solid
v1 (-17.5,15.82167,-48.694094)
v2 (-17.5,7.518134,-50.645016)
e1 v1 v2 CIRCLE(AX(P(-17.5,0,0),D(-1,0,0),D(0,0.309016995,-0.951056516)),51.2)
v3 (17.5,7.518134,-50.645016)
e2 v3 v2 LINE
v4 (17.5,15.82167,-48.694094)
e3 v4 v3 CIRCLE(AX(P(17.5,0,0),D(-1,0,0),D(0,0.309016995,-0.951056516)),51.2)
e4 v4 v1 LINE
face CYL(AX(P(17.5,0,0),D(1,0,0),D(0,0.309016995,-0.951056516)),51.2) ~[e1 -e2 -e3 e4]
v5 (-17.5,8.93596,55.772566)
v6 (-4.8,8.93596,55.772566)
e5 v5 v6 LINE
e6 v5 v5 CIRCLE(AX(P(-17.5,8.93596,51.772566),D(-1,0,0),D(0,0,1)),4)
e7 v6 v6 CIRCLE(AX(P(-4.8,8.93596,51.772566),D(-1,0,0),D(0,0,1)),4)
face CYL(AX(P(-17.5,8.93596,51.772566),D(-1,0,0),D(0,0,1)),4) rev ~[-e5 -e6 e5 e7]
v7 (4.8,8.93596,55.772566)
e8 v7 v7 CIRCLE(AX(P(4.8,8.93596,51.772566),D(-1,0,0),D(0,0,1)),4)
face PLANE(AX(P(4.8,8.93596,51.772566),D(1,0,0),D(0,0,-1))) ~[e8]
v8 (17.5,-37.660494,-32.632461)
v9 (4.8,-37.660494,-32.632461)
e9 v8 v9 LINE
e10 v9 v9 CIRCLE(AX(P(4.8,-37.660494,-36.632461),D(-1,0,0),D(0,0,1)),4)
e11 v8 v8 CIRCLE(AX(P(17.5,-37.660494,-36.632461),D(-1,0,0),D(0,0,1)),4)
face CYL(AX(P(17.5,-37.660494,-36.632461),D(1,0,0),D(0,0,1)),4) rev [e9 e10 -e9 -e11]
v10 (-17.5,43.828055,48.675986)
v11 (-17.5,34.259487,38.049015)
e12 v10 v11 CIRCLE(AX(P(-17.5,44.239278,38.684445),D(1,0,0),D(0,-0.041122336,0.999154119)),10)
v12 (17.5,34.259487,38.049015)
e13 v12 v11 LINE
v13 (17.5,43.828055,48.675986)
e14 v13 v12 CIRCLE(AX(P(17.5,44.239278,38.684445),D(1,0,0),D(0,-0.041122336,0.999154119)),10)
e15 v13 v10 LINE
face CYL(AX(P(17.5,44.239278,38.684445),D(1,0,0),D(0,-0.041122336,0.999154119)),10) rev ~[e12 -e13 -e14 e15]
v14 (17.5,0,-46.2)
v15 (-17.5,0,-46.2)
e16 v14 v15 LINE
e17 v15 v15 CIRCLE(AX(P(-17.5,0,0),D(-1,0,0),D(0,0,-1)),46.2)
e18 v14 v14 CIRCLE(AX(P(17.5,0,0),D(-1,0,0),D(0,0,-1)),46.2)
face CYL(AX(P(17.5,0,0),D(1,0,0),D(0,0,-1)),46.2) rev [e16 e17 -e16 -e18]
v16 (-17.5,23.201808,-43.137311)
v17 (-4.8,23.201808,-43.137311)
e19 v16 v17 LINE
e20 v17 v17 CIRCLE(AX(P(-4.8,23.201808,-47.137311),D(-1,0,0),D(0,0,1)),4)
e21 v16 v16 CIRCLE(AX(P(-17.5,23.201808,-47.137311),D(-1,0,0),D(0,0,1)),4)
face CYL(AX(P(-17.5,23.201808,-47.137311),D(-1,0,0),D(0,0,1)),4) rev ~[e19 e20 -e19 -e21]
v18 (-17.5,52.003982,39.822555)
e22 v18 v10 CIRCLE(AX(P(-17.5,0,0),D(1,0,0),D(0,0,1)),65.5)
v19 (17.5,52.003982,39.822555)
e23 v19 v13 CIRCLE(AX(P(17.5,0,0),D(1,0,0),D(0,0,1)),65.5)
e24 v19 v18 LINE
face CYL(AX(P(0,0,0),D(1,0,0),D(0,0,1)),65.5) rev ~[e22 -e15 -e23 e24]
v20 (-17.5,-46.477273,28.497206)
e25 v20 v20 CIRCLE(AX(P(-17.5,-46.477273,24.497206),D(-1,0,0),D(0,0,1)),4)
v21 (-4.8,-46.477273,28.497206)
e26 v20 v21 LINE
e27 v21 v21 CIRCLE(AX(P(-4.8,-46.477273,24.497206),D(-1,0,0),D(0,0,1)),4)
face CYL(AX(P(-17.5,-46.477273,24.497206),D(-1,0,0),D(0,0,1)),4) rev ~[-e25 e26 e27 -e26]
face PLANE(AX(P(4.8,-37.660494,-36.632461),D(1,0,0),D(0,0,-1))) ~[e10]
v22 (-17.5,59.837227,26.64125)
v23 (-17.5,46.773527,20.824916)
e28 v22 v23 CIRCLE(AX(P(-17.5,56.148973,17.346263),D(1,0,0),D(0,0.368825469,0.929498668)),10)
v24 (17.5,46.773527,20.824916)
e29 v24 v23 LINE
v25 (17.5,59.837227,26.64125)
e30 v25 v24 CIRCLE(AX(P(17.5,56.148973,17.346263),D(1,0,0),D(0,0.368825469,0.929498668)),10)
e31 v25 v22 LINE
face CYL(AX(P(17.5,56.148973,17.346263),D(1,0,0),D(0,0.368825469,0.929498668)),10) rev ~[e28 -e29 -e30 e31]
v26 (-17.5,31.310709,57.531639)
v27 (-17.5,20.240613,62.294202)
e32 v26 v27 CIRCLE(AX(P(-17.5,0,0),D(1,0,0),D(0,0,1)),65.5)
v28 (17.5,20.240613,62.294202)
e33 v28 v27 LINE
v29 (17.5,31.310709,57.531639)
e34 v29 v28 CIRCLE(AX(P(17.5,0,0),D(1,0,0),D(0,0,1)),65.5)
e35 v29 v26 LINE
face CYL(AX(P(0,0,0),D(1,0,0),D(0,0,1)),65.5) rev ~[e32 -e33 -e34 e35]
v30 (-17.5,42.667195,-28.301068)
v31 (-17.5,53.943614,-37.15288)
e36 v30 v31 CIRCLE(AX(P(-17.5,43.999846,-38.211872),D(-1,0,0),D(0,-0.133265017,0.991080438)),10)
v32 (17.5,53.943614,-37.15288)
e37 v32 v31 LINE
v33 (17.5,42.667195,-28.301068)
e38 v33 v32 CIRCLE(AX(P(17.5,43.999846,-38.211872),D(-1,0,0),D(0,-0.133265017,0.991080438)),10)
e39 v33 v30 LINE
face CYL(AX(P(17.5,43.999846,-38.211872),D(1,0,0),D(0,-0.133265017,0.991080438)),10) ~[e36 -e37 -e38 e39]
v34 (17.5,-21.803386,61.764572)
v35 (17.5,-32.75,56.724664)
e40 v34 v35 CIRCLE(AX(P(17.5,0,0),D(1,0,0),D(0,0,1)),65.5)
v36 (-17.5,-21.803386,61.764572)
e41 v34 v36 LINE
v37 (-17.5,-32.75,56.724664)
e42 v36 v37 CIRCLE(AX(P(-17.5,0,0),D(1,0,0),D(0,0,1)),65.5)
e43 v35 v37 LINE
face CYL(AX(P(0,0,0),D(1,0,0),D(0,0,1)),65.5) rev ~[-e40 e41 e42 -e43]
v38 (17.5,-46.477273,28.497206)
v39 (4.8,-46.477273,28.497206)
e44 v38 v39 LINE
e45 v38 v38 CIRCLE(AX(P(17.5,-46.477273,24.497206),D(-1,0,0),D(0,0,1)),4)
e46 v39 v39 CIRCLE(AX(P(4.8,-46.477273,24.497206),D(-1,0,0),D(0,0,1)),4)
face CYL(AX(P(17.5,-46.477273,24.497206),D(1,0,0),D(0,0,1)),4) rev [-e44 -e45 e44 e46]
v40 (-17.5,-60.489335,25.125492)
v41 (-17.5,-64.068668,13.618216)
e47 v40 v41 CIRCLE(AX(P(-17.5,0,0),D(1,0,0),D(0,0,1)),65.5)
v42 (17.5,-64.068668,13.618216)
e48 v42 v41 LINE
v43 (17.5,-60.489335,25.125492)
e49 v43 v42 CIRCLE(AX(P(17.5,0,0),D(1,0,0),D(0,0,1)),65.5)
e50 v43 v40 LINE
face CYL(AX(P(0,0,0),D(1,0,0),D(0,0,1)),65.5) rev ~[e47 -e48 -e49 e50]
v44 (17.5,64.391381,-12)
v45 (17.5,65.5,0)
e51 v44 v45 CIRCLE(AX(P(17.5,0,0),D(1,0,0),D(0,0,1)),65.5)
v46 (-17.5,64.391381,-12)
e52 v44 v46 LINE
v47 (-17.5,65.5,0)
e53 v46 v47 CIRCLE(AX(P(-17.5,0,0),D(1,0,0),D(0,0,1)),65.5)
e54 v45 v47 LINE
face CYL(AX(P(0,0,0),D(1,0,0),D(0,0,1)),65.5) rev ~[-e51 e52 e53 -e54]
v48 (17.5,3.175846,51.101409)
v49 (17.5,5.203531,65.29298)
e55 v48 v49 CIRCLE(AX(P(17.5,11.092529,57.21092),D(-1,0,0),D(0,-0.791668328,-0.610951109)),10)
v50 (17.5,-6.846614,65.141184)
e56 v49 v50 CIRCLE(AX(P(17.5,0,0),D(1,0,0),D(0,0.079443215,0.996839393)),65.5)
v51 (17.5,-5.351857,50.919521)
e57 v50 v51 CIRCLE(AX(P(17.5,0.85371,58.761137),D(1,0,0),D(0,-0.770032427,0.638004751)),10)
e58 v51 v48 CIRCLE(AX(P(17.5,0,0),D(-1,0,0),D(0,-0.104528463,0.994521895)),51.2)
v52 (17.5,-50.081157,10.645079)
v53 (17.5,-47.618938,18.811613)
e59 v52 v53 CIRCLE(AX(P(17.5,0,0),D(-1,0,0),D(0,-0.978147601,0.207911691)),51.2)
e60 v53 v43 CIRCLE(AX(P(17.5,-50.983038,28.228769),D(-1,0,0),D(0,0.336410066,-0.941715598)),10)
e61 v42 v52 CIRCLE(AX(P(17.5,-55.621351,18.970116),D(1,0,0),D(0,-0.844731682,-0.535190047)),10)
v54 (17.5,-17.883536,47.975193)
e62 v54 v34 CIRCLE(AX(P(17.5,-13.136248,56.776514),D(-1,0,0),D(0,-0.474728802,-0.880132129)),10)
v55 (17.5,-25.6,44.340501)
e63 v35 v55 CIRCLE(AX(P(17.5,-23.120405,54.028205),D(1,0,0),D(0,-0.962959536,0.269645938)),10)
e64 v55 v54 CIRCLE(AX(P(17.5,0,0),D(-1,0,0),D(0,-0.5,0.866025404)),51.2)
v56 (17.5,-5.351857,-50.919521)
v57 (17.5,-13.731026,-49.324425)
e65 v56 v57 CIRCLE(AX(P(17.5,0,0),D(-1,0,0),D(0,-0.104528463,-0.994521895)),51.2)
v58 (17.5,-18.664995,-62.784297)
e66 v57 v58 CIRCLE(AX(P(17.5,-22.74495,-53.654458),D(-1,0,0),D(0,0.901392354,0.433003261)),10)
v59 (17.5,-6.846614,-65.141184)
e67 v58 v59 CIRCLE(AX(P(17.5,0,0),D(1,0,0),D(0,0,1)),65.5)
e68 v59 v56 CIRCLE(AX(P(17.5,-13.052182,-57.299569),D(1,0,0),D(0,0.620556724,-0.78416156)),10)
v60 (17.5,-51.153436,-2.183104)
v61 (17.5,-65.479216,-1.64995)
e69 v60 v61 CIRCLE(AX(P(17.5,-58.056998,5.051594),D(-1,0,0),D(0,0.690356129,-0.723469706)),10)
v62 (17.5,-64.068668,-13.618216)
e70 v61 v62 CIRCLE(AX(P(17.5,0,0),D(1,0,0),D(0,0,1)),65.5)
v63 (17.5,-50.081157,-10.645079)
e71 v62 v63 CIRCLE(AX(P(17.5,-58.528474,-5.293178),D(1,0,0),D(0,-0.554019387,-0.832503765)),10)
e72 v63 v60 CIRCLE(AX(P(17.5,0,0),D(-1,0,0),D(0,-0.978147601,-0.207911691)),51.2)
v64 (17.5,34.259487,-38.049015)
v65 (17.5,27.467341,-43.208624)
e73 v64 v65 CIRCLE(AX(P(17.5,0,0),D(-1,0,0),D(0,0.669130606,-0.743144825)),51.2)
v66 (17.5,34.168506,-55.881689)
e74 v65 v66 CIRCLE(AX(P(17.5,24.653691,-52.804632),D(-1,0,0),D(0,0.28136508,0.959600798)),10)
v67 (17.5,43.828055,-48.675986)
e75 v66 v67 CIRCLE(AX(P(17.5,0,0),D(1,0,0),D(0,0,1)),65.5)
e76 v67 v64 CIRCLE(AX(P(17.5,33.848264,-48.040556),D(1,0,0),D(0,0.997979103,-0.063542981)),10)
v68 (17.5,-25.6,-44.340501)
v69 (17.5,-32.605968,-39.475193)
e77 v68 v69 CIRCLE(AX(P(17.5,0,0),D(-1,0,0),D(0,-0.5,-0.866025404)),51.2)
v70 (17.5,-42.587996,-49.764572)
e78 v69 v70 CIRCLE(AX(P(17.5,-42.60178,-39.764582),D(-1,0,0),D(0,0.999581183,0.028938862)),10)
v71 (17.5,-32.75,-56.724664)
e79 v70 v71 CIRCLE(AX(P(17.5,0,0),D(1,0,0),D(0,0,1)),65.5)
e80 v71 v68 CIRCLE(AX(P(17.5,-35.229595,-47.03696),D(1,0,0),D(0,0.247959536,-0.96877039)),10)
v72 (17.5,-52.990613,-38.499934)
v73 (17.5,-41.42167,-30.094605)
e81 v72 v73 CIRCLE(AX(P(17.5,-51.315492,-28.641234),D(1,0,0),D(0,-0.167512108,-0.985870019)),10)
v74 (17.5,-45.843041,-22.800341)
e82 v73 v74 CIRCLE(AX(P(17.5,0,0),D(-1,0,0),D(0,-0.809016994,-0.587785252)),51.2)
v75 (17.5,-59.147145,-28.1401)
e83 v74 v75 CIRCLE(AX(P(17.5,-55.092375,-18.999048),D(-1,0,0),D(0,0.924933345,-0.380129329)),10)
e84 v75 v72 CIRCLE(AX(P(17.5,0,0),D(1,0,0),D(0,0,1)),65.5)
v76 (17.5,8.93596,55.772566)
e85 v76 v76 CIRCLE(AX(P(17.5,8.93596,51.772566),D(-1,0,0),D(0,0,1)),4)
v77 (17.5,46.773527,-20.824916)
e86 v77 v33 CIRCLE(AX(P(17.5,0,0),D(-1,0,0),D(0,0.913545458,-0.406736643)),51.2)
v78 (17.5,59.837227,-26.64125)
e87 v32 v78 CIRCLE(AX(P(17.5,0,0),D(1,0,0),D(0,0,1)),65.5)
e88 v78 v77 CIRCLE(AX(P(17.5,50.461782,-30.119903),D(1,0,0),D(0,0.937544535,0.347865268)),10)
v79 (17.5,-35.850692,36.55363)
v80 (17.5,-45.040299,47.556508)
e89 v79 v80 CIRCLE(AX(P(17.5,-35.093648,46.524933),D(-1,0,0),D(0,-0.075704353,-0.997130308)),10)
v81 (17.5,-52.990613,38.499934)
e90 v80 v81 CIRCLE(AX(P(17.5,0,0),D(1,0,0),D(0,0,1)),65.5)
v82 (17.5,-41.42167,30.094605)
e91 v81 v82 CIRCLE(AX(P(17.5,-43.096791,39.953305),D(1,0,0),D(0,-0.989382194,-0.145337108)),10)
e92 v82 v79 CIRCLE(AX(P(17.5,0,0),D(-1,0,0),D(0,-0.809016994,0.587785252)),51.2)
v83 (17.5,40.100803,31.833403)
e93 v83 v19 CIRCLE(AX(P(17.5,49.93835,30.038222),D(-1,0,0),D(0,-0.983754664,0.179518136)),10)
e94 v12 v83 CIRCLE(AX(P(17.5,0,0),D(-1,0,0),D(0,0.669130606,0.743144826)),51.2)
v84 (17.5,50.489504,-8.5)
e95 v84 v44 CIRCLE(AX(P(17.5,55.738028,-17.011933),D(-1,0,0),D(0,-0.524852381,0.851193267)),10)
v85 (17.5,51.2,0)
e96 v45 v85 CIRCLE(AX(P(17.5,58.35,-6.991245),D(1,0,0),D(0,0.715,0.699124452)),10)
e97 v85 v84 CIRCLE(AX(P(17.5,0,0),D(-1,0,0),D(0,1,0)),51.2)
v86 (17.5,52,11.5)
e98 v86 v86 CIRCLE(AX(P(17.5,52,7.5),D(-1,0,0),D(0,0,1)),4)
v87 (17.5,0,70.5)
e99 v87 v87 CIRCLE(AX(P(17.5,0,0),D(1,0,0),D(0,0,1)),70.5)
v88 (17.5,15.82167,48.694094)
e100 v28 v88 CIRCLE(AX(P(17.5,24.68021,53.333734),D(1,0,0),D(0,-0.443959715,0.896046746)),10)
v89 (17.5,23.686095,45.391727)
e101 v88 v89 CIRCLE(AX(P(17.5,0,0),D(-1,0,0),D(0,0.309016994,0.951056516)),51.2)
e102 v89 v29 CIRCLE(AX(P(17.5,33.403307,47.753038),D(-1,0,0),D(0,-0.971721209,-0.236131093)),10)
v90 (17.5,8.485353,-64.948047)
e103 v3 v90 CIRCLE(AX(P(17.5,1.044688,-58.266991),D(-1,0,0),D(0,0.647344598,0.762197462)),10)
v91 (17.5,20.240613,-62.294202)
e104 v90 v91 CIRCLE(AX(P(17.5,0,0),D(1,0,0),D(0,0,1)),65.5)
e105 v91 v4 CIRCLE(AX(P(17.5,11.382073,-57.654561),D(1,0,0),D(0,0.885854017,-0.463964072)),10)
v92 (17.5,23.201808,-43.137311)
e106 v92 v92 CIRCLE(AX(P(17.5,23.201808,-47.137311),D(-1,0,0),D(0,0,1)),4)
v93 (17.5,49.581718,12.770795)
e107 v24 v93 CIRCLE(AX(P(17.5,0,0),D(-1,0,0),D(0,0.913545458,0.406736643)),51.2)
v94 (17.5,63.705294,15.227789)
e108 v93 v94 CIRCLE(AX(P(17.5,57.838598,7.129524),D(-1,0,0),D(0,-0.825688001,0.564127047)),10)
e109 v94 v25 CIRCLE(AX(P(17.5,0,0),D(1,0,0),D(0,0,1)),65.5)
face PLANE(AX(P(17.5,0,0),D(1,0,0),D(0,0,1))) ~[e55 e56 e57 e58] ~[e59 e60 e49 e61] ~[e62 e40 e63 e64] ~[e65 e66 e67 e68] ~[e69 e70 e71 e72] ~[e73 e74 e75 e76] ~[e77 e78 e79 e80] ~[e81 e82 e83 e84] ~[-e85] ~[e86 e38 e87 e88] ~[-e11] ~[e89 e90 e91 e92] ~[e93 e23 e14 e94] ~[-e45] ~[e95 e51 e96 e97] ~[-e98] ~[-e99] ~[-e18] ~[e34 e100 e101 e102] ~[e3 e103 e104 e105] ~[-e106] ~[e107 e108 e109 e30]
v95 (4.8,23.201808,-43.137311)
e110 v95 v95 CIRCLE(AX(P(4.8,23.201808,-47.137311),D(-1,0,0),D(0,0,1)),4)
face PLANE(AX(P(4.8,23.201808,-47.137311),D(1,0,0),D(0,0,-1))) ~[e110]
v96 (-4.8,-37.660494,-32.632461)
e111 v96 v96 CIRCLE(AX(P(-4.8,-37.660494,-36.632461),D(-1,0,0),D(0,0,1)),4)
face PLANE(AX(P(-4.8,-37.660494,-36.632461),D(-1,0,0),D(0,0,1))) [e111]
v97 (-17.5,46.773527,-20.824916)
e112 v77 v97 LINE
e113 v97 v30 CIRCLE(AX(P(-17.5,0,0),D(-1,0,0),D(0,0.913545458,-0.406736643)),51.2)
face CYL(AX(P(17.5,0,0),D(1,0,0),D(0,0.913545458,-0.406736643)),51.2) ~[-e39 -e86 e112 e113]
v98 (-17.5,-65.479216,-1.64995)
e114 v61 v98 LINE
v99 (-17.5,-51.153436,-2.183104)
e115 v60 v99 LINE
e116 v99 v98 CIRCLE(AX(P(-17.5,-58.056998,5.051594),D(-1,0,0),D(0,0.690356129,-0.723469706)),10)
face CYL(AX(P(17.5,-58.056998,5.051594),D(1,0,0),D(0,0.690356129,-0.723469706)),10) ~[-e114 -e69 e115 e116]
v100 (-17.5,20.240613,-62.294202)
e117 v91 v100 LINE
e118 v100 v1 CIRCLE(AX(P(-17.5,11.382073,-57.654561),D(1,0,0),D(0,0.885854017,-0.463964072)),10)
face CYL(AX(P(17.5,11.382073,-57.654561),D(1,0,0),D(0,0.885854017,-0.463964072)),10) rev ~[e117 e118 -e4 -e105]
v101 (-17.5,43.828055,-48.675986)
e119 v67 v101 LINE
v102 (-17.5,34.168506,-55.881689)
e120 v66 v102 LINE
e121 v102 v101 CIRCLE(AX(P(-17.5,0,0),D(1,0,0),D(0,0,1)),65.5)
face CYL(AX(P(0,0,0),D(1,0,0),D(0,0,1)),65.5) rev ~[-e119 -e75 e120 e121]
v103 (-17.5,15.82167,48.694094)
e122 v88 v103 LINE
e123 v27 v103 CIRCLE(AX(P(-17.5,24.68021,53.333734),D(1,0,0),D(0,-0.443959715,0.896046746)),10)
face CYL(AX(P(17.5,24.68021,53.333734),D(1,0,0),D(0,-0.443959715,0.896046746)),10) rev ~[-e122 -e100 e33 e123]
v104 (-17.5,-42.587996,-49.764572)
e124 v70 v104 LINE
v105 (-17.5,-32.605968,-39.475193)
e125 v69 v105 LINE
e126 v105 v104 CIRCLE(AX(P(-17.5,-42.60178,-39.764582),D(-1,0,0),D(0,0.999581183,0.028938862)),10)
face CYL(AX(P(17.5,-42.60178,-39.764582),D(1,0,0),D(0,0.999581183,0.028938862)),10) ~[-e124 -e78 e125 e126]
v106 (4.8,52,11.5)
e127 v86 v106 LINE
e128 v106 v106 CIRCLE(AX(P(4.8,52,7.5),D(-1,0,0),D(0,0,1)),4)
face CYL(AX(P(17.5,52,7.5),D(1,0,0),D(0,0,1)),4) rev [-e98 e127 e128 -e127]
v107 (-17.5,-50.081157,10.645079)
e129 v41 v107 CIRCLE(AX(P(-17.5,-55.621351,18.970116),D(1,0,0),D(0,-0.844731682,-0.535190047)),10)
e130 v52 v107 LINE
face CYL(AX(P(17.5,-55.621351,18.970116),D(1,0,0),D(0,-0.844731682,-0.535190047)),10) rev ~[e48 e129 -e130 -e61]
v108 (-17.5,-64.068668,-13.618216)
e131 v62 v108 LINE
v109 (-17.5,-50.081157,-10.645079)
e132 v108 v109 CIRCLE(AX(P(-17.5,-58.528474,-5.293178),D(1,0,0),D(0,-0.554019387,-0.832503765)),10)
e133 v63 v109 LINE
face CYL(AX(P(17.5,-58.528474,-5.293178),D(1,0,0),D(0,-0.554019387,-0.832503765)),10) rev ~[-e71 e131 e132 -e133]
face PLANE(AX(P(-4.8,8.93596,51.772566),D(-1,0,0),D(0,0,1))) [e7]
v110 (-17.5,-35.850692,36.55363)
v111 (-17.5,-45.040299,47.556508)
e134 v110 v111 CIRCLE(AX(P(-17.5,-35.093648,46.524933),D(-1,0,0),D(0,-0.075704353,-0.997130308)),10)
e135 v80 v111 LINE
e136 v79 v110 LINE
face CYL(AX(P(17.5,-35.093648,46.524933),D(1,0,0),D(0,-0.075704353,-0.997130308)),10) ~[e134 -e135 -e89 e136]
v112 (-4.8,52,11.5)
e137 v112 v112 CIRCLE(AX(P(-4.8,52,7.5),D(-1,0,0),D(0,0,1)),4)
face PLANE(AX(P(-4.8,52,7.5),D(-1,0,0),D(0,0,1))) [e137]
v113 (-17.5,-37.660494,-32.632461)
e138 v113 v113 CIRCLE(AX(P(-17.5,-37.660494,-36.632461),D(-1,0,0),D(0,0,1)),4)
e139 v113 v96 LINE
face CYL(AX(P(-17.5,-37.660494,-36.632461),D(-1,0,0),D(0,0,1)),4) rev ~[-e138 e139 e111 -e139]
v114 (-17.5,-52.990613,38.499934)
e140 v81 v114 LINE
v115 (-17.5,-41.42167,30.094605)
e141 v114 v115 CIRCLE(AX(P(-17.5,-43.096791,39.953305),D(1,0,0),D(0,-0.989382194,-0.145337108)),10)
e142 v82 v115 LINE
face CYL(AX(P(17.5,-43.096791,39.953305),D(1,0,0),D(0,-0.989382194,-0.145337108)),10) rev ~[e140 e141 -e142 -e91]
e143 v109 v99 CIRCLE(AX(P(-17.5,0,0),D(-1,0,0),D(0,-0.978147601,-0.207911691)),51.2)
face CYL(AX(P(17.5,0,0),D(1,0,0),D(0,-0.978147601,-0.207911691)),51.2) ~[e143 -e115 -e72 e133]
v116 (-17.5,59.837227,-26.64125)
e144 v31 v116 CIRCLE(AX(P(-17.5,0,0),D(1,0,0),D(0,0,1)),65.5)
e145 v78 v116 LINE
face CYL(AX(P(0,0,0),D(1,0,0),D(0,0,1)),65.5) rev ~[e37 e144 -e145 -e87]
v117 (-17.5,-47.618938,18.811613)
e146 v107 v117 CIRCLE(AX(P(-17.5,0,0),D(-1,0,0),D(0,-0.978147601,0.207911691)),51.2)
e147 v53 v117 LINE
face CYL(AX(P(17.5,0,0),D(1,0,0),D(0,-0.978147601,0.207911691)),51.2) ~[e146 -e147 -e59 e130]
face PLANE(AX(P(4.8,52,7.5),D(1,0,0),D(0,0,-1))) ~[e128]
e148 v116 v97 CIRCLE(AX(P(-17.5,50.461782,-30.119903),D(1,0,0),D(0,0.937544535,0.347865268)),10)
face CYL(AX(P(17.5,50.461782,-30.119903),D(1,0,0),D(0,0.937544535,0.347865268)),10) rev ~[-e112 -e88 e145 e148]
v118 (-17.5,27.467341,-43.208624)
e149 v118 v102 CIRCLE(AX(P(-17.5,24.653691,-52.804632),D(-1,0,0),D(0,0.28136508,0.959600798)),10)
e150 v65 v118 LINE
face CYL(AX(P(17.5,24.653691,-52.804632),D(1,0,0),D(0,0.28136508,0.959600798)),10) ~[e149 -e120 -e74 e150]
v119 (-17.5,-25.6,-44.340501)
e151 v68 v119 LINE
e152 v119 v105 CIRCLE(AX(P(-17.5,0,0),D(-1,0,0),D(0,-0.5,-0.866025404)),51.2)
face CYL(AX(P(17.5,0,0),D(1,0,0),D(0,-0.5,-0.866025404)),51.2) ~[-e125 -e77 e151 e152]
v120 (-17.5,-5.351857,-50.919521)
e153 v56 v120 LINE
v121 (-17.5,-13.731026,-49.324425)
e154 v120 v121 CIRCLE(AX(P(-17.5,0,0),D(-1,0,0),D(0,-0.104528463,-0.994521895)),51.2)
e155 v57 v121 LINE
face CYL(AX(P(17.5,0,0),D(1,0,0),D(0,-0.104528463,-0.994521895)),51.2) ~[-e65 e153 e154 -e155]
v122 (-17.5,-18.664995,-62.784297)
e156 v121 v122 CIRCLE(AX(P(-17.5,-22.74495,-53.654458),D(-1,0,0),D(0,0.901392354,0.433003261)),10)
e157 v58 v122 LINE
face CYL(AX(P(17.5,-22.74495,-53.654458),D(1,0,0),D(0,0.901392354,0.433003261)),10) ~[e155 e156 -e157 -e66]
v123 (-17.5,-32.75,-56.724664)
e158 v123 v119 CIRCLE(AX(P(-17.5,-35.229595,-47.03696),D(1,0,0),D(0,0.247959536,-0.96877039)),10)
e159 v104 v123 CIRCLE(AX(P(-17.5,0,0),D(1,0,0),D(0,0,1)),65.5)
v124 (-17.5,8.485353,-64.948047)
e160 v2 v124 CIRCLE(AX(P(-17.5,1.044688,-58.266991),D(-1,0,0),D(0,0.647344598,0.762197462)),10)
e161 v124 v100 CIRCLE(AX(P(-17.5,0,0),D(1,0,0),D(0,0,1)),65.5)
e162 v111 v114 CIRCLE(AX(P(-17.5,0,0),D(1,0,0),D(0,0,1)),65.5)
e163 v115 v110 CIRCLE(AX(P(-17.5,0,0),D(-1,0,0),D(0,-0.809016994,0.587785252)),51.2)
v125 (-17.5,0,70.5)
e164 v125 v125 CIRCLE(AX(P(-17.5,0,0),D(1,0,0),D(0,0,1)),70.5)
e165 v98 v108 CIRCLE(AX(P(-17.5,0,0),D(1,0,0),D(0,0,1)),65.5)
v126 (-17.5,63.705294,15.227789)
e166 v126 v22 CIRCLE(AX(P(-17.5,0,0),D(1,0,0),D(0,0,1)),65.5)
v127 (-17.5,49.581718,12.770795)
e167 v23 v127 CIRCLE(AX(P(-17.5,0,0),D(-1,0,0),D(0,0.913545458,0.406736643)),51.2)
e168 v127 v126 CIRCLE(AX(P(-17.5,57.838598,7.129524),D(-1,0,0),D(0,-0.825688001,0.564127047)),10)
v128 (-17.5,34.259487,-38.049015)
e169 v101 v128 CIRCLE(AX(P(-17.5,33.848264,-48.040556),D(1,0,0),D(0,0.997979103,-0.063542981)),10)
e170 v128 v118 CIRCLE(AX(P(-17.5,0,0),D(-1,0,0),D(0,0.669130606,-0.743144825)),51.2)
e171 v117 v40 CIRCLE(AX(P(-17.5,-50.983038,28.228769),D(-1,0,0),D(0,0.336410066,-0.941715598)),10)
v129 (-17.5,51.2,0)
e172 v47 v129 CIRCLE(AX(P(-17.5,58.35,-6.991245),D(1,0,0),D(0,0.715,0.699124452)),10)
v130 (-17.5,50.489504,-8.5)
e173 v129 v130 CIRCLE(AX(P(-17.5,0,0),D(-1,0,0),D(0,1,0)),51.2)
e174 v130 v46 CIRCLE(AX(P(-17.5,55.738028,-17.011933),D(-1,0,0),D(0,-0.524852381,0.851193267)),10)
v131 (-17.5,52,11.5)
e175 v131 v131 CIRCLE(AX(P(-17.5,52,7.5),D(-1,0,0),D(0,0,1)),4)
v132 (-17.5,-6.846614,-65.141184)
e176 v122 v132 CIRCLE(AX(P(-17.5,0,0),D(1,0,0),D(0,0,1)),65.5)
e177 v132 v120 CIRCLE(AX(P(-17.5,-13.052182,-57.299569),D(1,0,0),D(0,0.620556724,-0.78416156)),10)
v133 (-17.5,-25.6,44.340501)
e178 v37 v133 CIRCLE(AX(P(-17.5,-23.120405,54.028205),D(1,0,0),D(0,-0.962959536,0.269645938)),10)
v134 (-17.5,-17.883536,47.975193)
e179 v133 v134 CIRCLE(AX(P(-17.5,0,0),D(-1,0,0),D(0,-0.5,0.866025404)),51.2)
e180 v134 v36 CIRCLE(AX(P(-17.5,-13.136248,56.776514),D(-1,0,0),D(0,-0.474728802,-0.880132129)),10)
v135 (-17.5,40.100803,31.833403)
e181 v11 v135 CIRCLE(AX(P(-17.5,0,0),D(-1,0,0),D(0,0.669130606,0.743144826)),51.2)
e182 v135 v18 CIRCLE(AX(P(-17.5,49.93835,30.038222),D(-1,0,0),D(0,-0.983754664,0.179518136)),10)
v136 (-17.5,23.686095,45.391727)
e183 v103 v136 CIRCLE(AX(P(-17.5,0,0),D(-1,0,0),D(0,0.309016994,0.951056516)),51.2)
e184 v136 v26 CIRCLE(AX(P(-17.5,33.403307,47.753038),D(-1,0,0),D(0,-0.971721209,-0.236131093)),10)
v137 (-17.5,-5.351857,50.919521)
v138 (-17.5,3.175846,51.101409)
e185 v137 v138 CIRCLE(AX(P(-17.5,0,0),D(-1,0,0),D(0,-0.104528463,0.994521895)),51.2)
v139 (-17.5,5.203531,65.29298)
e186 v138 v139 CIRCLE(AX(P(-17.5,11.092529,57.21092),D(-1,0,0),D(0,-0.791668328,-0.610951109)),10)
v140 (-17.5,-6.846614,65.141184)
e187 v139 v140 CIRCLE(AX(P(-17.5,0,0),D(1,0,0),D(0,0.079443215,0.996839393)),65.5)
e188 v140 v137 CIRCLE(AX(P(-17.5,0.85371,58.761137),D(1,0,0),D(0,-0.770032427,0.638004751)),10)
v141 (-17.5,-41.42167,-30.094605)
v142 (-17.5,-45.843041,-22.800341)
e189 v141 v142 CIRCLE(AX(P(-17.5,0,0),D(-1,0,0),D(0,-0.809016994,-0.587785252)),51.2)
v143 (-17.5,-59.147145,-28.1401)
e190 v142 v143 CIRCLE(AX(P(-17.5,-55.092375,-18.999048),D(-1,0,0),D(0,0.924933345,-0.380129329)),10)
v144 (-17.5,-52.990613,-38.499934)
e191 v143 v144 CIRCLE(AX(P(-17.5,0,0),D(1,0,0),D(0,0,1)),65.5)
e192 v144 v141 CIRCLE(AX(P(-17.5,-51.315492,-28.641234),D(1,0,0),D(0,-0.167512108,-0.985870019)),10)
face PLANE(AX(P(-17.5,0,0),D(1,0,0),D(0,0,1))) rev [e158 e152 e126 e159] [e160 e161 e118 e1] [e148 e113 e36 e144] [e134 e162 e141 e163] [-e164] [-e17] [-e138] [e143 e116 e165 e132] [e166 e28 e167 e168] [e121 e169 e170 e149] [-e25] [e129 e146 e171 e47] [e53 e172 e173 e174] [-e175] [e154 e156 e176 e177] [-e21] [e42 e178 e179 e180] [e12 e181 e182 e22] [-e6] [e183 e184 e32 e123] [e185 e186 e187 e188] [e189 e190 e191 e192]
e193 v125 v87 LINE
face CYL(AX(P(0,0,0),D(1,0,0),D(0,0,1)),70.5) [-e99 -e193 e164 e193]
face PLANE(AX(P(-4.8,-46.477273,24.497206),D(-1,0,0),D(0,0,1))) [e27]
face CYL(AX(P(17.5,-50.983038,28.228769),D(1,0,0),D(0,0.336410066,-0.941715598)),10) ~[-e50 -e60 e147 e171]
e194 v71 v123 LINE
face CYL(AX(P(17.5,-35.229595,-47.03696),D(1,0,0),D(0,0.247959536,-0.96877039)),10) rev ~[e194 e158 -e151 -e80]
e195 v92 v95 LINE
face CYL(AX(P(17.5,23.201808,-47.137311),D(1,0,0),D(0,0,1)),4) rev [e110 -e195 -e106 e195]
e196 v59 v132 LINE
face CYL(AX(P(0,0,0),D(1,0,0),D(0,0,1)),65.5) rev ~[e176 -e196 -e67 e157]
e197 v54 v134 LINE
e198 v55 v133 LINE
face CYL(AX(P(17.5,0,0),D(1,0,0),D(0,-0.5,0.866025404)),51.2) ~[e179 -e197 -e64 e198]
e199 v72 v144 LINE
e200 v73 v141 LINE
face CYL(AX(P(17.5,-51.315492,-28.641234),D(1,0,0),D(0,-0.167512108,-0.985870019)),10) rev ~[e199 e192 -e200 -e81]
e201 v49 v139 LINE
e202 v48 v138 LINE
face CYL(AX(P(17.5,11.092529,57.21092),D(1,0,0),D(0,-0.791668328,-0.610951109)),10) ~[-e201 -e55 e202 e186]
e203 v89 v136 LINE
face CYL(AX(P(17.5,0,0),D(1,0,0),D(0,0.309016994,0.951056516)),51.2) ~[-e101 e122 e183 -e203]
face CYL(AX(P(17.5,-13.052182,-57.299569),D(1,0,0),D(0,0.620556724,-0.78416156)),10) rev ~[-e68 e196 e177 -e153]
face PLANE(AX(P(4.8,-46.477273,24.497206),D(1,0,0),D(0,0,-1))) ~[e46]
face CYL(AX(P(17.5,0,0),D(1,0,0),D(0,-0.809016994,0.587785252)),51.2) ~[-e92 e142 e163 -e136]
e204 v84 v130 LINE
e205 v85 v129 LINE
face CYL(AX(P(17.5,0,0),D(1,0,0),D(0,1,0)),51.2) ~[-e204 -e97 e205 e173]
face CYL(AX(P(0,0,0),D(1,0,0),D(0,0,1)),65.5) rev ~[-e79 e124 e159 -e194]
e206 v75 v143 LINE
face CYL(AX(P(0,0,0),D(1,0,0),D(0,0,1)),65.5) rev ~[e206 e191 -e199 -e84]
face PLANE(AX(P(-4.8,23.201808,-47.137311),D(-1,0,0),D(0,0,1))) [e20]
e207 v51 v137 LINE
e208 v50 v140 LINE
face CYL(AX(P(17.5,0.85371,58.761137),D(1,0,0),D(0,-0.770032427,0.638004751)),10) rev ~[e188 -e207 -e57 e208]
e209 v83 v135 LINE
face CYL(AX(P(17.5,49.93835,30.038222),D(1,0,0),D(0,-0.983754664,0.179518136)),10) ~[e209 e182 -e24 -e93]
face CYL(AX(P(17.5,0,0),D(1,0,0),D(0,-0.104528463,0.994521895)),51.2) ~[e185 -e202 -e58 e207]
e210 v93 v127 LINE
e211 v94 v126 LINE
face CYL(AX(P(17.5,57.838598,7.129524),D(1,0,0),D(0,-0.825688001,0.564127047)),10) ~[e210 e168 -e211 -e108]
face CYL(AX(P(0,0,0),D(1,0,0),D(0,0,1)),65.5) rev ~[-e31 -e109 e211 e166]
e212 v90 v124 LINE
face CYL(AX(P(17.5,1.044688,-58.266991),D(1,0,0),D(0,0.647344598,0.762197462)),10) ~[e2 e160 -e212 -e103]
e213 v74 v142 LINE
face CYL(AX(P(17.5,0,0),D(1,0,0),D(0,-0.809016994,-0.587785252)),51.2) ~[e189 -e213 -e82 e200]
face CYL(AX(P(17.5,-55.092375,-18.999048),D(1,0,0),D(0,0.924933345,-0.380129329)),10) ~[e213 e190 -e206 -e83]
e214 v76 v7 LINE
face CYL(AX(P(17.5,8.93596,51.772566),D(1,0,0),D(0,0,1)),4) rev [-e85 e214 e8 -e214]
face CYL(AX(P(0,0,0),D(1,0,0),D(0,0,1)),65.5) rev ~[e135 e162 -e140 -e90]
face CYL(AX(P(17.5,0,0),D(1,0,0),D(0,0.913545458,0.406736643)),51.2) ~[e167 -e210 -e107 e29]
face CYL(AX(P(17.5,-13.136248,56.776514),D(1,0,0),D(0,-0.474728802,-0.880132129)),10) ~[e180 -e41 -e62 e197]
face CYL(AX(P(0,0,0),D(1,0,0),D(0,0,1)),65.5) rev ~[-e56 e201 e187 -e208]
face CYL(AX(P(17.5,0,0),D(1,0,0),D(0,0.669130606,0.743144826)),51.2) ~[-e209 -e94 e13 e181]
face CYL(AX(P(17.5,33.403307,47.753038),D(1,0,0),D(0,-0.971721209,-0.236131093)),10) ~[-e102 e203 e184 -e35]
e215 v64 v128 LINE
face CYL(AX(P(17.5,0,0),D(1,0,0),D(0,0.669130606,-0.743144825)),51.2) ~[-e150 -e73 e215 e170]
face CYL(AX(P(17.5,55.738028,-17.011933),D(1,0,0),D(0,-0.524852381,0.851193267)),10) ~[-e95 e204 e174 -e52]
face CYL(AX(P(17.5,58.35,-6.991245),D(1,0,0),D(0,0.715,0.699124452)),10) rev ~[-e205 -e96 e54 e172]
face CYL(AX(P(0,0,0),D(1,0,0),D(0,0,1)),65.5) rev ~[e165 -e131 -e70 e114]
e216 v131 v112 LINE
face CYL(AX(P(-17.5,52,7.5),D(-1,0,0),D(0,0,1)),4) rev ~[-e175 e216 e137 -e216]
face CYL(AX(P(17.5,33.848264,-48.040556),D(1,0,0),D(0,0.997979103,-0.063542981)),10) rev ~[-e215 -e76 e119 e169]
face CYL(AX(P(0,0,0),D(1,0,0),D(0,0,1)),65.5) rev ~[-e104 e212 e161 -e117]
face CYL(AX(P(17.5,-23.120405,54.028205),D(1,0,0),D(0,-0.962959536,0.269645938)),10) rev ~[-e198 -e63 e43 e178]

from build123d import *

# Parameters (mm, degrees)
SKETCH1_W             = 35
SKETCH1_H             = 5
SKETCH7_R             = 46.2
REINFORCEMENT_DEPTH   = 35
SKETCH8_R             = 4
INSERTS_HOLES_A_DEPTH = 12.7


with BuildPart() as part:
    # Sketch1 → Body (revolve)
    with BuildSketch(Plane(origin=(0, 0, 0), x_dir=(1, 0, 0), z_dir=(0, 1, 0)), mode=Mode.PRIVATE) as body_sk:
        with Locations((0, 68)):
            Rectangle(SKETCH1_W, SKETCH1_H)
    revolve(body_sk.sketch.rotate(Axis((-1000, 0, 0), (1, 0, 0)), 180), axis=Axis((-1000, 0, 0), (1, 0, 0)))

    # Sketch7 → Reinforcement (add)
    with BuildSketch(Plane.ZY.offset(-17.5)):
        with BuildLine():
            ThreePointArc((15.227788826, 63.705293716), (7.666591863, 65.049776089), (0, 65.5))
            ThreePointArc((0, 65.5), (3.008755476, 58.35), (0, 51.2))
            ThreePointArc((0, 51.2), (-4.264821355, 51.022066783), (-8.5, 50.48950386))
            ThreePointArc((-8.5, 50.48950386), (-7.314547286, 58.179485578), (-12, 64.391381411))
            ThreePointArc((-12, 64.391381411), (-19.454347387, 62.544211305), (-26.641250121, 59.837227476))
            ThreePointArc((-26.641250121, 59.837227476), (-20.984448226, 54.529148555), (-20.824916125, 46.773527431))
            ThreePointArc((-20.824916125, 46.773527431), (-24.648652343, 44.876318228), (-28.3010677, 42.667195444))
            ThreePointArc((-28.3010677, 42.667195444), (-30.345900107, 50.17451037), (-37.15287981, 53.943614282))
            ThreePointArc((-37.15287981, 53.943614282), (-43.211453237, 49.22418419), (-48.675986069, 43.828054717))
            ThreePointArc((-48.675986069, 43.828054717), (-41.349250191, 41.279711944), (-38.049015064, 34.259487046))
            ThreePointArc((-38.049015064, 34.259487046), (-40.770507414, 30.971046563), (-43.208623688, 27.467341316))
            ThreePointArc((-43.208623688, 27.467341316), (-48.130171117, 33.493906497), (-55.881689177, 34.168506182))
            ThreePointArc((-55.881689177, 34.168506182), (-59.496906258, 27.392848441), (-62.294201817, 20.240613132))
            ThreePointArc((-62.294201817, 20.240613132), (-54.564391152, 20.892638123), (-48.694093634, 15.821670112))
            ThreePointArc((-48.694093634, 15.821670112), (-49.842771366, 11.710599583), (-50.645016102, 7.518134342))
            ThreePointArc((-50.645016102, 7.518134342), (-57.592298291, 11.021901908), (-64.948046817, 8.485352952))
            ThreePointArc((-64.948046817, 8.485352952), (-65.494803675, 0.82504034), (-65.141184147, -6.846614344))
            ThreePointArc((-65.141184147, -6.846614344), (-58.344853181, -3.106962633), (-50.919521043, -5.351857319))
            ThreePointArc((-50.919521043, -5.351857319), (-50.29676734, -9.574716451), (-49.324425137, -13.73102636))
            ThreePointArc((-49.324425137, -13.73102636), (-57.096193882, -13.355889651), (-62.784297127, -18.664994891))
            ThreePointArc((-62.784297127, -18.664994891), (-60.168054535, -25.88542473), (-56.724663948, -32.75))
            ThreePointArc((-56.724663948, -32.75), (-52.036960049, -26.569341324), (-44.340500674, -25.6))
            ThreePointArc((-44.340500674, -25.6), (-42.05399531, -29.204477028), (-39.475192967, -32.605967862))
            ThreePointArc((-39.475192967, -32.605967862), (-46.727638847, -35.424326556), (-49.764572087, -42.587995551))
            ThreePointArc((-49.764572087, -42.587995551), (-44.437702156, -48.120064704), (-38.499934025, -52.990613132))
            ThreePointArc((-38.499934025, -52.990613132), (-36.731403783, -45.437639525), (-30.094604917, -41.421670112))
            ThreePointArc((-30.094604917, -41.421670112), (-26.539705442, -43.784518212), (-22.800341312, -45.843041305))
            ThreePointArc((-22.800341312, -45.843041305), (-28.279450549, -51.367575579), (-28.140100436, -59.14714488))
            ThreePointArc((-28.140100436, -59.14714488), (-21.023667371, -62.034308332), (-13.618215749, -64.068667848))
            ThreePointArc((-13.618215749, -64.068667848), (-15.074654109, -56.449357065), (-10.64507857, -50.081157158))
            ThreePointArc((-10.64507857, -50.081157158), (-6.436459398, -50.793818427), (-2.18310351, -51.153436435))
            ThreePointArc((-2.18310351, -51.153436435), (-4.94148834, -58.428904124), (-1.649949774, -65.479215525))
            ThreePointArc((-1.649949774, -65.479215525), (6.025550497, -65.222256487), (13.618215749, -64.068667848))
            ThreePointArc((13.618215749, -64.068667848), (9.18864021, -57.700467941), (10.64507857, -50.081157158))
            ThreePointArc((10.64507857, -50.081157158), (14.77970895, -49.020405989), (18.811612722, -47.618937691))
            ThreePointArc((18.811612722, -47.618937691), (19.250902095, -55.387344337), (25.125492192, -60.489334945))
            ThreePointArc((25.125492192, -60.489334945), (32.032895944, -57.132683969), (38.499934025, -52.990613132))
            ThreePointArc((38.499934025, -52.990613132), (31.86313516, -48.974643718), (30.094604917, -41.421670112))
            ThreePointArc((30.094604917, -41.421670112), (33.440331351, -38.770920019), (36.553630216, -35.850692016))
            ThreePointArc((36.553630216, -35.850692016), (40.114636669, -42.768809535), (47.556508301, -45.040298825))
            ThreePointArc((47.556508301, -45.040298825), (52.501462672, -39.164351358), (56.724663948, -32.75))
            ThreePointArc((56.724663948, -32.75), (49.028204573, -31.780658676), (44.340500674, -25.6))
            ThreePointArc((44.340500674, -25.6), (46.318816665, -21.817589755), (47.975192967, -17.883535998))
            ThreePointArc((47.975192967, -17.883535998), (54.042186133, -22.755159023), (61.764572087, -21.80338586))
            ThreePointArc((61.764572087, -21.80338586), (63.892049543, -14.424146601), (65.141184147, -6.846614344))
            ThreePointArc((65.141184147, -6.846614344), (57.715852009, -9.09150903), (50.919521043, -5.351857319))
            ThreePointArc((50.919521043, -5.351857319), (51.188357785, -1.091800016), (51.101409013, 3.175845861))
            ThreePointArc((51.101409013, 3.175845861), (58.625350656, 1.193065209), (65.292980245, 5.203530598))
            ThreePointArc((65.292980245, 5.203530598), (64.235120607, 12.810124142), (62.294201817, 20.240613132))
            ThreePointArc((62.294201817, 20.240613132), (56.4239043, 15.169645121), (48.694093634, 15.821670112))
            ThreePointArc((48.694093634, 15.821670112), (47.206966812, 19.822771865), (45.391727198, 23.686095119))
            ThreePointArc((45.391727198, 23.686095119), (53.071659457, 24.934997627), (57.531638952, 31.310709343))
            ThreePointArc((57.531638952, 31.310709343), (53.471355761, 37.829408046), (48.675986069, 43.828054717))
            ThreePointArc((48.675986069, 43.828054717), (45.375750942, 36.807829818), (38.049015064, 34.259487046))
            ThreePointArc((38.049015064, 34.259487046), (35.063062416, 37.309806406), (31.83340338, 40.100803349))
            ThreePointArc((31.83340338, 40.100803349), (38.341396196, 44.365442429), (39.822554625, 52.003981993))
            ThreePointArc((39.822554625, 52.003981993), (33.461907731, 56.307643628), (26.641250121, 59.837227476))
            ThreePointArc((26.641250121, 59.837227476), (26.481718021, 52.081606351), (20.824916125, 46.773527431))
            ThreePointArc((20.824916125, 46.773527431), (16.856435989, 48.34563647), (12.770794921, 49.581718376))
            ThreePointArc((12.770794921, 49.581718376), (16.981557213, 56.124699187), (15.227788826, 63.705293716))
        make_face()
        with Locations(Location((0, 0, 0), (0, 0, 180))):
            Circle(SKETCH7_R, mode=Mode.SUBTRACT)
    extrude(amount=REINFORCEMENT_DEPTH)

    # Sketch8 → Inserts_Holes_A (cut)
    with BuildSketch(Plane.ZY.offset(17.5)):
        with Locations((7.5, 52)):
            Circle(SKETCH8_R)
        with Locations((51.772566305, 8.935959835)):
            Circle(SKETCH8_R)
        with Locations((24.497205661, -46.4772731)):
            Circle(SKETCH8_R)
        with Locations((-36.632460577, -37.660494315)):
            Circle(SKETCH8_R)
        with Locations((-47.13731139, 23.20180758)):
            Circle(SKETCH8_R)
    inserts_holes_a = extrude(amount=-INSERTS_HOLES_A_DEPTH, mode=Mode.SUBTRACT)

    # Mirror1: Inserts_Holes_A across plane
    add(inserts_holes_a.mirror(Plane(origin=(0, 0, 0), x_dir=(0, 0, 1), z_dir=(1, 0, 0))), mode=Mode.SUBTRACT)


solid = part.part
